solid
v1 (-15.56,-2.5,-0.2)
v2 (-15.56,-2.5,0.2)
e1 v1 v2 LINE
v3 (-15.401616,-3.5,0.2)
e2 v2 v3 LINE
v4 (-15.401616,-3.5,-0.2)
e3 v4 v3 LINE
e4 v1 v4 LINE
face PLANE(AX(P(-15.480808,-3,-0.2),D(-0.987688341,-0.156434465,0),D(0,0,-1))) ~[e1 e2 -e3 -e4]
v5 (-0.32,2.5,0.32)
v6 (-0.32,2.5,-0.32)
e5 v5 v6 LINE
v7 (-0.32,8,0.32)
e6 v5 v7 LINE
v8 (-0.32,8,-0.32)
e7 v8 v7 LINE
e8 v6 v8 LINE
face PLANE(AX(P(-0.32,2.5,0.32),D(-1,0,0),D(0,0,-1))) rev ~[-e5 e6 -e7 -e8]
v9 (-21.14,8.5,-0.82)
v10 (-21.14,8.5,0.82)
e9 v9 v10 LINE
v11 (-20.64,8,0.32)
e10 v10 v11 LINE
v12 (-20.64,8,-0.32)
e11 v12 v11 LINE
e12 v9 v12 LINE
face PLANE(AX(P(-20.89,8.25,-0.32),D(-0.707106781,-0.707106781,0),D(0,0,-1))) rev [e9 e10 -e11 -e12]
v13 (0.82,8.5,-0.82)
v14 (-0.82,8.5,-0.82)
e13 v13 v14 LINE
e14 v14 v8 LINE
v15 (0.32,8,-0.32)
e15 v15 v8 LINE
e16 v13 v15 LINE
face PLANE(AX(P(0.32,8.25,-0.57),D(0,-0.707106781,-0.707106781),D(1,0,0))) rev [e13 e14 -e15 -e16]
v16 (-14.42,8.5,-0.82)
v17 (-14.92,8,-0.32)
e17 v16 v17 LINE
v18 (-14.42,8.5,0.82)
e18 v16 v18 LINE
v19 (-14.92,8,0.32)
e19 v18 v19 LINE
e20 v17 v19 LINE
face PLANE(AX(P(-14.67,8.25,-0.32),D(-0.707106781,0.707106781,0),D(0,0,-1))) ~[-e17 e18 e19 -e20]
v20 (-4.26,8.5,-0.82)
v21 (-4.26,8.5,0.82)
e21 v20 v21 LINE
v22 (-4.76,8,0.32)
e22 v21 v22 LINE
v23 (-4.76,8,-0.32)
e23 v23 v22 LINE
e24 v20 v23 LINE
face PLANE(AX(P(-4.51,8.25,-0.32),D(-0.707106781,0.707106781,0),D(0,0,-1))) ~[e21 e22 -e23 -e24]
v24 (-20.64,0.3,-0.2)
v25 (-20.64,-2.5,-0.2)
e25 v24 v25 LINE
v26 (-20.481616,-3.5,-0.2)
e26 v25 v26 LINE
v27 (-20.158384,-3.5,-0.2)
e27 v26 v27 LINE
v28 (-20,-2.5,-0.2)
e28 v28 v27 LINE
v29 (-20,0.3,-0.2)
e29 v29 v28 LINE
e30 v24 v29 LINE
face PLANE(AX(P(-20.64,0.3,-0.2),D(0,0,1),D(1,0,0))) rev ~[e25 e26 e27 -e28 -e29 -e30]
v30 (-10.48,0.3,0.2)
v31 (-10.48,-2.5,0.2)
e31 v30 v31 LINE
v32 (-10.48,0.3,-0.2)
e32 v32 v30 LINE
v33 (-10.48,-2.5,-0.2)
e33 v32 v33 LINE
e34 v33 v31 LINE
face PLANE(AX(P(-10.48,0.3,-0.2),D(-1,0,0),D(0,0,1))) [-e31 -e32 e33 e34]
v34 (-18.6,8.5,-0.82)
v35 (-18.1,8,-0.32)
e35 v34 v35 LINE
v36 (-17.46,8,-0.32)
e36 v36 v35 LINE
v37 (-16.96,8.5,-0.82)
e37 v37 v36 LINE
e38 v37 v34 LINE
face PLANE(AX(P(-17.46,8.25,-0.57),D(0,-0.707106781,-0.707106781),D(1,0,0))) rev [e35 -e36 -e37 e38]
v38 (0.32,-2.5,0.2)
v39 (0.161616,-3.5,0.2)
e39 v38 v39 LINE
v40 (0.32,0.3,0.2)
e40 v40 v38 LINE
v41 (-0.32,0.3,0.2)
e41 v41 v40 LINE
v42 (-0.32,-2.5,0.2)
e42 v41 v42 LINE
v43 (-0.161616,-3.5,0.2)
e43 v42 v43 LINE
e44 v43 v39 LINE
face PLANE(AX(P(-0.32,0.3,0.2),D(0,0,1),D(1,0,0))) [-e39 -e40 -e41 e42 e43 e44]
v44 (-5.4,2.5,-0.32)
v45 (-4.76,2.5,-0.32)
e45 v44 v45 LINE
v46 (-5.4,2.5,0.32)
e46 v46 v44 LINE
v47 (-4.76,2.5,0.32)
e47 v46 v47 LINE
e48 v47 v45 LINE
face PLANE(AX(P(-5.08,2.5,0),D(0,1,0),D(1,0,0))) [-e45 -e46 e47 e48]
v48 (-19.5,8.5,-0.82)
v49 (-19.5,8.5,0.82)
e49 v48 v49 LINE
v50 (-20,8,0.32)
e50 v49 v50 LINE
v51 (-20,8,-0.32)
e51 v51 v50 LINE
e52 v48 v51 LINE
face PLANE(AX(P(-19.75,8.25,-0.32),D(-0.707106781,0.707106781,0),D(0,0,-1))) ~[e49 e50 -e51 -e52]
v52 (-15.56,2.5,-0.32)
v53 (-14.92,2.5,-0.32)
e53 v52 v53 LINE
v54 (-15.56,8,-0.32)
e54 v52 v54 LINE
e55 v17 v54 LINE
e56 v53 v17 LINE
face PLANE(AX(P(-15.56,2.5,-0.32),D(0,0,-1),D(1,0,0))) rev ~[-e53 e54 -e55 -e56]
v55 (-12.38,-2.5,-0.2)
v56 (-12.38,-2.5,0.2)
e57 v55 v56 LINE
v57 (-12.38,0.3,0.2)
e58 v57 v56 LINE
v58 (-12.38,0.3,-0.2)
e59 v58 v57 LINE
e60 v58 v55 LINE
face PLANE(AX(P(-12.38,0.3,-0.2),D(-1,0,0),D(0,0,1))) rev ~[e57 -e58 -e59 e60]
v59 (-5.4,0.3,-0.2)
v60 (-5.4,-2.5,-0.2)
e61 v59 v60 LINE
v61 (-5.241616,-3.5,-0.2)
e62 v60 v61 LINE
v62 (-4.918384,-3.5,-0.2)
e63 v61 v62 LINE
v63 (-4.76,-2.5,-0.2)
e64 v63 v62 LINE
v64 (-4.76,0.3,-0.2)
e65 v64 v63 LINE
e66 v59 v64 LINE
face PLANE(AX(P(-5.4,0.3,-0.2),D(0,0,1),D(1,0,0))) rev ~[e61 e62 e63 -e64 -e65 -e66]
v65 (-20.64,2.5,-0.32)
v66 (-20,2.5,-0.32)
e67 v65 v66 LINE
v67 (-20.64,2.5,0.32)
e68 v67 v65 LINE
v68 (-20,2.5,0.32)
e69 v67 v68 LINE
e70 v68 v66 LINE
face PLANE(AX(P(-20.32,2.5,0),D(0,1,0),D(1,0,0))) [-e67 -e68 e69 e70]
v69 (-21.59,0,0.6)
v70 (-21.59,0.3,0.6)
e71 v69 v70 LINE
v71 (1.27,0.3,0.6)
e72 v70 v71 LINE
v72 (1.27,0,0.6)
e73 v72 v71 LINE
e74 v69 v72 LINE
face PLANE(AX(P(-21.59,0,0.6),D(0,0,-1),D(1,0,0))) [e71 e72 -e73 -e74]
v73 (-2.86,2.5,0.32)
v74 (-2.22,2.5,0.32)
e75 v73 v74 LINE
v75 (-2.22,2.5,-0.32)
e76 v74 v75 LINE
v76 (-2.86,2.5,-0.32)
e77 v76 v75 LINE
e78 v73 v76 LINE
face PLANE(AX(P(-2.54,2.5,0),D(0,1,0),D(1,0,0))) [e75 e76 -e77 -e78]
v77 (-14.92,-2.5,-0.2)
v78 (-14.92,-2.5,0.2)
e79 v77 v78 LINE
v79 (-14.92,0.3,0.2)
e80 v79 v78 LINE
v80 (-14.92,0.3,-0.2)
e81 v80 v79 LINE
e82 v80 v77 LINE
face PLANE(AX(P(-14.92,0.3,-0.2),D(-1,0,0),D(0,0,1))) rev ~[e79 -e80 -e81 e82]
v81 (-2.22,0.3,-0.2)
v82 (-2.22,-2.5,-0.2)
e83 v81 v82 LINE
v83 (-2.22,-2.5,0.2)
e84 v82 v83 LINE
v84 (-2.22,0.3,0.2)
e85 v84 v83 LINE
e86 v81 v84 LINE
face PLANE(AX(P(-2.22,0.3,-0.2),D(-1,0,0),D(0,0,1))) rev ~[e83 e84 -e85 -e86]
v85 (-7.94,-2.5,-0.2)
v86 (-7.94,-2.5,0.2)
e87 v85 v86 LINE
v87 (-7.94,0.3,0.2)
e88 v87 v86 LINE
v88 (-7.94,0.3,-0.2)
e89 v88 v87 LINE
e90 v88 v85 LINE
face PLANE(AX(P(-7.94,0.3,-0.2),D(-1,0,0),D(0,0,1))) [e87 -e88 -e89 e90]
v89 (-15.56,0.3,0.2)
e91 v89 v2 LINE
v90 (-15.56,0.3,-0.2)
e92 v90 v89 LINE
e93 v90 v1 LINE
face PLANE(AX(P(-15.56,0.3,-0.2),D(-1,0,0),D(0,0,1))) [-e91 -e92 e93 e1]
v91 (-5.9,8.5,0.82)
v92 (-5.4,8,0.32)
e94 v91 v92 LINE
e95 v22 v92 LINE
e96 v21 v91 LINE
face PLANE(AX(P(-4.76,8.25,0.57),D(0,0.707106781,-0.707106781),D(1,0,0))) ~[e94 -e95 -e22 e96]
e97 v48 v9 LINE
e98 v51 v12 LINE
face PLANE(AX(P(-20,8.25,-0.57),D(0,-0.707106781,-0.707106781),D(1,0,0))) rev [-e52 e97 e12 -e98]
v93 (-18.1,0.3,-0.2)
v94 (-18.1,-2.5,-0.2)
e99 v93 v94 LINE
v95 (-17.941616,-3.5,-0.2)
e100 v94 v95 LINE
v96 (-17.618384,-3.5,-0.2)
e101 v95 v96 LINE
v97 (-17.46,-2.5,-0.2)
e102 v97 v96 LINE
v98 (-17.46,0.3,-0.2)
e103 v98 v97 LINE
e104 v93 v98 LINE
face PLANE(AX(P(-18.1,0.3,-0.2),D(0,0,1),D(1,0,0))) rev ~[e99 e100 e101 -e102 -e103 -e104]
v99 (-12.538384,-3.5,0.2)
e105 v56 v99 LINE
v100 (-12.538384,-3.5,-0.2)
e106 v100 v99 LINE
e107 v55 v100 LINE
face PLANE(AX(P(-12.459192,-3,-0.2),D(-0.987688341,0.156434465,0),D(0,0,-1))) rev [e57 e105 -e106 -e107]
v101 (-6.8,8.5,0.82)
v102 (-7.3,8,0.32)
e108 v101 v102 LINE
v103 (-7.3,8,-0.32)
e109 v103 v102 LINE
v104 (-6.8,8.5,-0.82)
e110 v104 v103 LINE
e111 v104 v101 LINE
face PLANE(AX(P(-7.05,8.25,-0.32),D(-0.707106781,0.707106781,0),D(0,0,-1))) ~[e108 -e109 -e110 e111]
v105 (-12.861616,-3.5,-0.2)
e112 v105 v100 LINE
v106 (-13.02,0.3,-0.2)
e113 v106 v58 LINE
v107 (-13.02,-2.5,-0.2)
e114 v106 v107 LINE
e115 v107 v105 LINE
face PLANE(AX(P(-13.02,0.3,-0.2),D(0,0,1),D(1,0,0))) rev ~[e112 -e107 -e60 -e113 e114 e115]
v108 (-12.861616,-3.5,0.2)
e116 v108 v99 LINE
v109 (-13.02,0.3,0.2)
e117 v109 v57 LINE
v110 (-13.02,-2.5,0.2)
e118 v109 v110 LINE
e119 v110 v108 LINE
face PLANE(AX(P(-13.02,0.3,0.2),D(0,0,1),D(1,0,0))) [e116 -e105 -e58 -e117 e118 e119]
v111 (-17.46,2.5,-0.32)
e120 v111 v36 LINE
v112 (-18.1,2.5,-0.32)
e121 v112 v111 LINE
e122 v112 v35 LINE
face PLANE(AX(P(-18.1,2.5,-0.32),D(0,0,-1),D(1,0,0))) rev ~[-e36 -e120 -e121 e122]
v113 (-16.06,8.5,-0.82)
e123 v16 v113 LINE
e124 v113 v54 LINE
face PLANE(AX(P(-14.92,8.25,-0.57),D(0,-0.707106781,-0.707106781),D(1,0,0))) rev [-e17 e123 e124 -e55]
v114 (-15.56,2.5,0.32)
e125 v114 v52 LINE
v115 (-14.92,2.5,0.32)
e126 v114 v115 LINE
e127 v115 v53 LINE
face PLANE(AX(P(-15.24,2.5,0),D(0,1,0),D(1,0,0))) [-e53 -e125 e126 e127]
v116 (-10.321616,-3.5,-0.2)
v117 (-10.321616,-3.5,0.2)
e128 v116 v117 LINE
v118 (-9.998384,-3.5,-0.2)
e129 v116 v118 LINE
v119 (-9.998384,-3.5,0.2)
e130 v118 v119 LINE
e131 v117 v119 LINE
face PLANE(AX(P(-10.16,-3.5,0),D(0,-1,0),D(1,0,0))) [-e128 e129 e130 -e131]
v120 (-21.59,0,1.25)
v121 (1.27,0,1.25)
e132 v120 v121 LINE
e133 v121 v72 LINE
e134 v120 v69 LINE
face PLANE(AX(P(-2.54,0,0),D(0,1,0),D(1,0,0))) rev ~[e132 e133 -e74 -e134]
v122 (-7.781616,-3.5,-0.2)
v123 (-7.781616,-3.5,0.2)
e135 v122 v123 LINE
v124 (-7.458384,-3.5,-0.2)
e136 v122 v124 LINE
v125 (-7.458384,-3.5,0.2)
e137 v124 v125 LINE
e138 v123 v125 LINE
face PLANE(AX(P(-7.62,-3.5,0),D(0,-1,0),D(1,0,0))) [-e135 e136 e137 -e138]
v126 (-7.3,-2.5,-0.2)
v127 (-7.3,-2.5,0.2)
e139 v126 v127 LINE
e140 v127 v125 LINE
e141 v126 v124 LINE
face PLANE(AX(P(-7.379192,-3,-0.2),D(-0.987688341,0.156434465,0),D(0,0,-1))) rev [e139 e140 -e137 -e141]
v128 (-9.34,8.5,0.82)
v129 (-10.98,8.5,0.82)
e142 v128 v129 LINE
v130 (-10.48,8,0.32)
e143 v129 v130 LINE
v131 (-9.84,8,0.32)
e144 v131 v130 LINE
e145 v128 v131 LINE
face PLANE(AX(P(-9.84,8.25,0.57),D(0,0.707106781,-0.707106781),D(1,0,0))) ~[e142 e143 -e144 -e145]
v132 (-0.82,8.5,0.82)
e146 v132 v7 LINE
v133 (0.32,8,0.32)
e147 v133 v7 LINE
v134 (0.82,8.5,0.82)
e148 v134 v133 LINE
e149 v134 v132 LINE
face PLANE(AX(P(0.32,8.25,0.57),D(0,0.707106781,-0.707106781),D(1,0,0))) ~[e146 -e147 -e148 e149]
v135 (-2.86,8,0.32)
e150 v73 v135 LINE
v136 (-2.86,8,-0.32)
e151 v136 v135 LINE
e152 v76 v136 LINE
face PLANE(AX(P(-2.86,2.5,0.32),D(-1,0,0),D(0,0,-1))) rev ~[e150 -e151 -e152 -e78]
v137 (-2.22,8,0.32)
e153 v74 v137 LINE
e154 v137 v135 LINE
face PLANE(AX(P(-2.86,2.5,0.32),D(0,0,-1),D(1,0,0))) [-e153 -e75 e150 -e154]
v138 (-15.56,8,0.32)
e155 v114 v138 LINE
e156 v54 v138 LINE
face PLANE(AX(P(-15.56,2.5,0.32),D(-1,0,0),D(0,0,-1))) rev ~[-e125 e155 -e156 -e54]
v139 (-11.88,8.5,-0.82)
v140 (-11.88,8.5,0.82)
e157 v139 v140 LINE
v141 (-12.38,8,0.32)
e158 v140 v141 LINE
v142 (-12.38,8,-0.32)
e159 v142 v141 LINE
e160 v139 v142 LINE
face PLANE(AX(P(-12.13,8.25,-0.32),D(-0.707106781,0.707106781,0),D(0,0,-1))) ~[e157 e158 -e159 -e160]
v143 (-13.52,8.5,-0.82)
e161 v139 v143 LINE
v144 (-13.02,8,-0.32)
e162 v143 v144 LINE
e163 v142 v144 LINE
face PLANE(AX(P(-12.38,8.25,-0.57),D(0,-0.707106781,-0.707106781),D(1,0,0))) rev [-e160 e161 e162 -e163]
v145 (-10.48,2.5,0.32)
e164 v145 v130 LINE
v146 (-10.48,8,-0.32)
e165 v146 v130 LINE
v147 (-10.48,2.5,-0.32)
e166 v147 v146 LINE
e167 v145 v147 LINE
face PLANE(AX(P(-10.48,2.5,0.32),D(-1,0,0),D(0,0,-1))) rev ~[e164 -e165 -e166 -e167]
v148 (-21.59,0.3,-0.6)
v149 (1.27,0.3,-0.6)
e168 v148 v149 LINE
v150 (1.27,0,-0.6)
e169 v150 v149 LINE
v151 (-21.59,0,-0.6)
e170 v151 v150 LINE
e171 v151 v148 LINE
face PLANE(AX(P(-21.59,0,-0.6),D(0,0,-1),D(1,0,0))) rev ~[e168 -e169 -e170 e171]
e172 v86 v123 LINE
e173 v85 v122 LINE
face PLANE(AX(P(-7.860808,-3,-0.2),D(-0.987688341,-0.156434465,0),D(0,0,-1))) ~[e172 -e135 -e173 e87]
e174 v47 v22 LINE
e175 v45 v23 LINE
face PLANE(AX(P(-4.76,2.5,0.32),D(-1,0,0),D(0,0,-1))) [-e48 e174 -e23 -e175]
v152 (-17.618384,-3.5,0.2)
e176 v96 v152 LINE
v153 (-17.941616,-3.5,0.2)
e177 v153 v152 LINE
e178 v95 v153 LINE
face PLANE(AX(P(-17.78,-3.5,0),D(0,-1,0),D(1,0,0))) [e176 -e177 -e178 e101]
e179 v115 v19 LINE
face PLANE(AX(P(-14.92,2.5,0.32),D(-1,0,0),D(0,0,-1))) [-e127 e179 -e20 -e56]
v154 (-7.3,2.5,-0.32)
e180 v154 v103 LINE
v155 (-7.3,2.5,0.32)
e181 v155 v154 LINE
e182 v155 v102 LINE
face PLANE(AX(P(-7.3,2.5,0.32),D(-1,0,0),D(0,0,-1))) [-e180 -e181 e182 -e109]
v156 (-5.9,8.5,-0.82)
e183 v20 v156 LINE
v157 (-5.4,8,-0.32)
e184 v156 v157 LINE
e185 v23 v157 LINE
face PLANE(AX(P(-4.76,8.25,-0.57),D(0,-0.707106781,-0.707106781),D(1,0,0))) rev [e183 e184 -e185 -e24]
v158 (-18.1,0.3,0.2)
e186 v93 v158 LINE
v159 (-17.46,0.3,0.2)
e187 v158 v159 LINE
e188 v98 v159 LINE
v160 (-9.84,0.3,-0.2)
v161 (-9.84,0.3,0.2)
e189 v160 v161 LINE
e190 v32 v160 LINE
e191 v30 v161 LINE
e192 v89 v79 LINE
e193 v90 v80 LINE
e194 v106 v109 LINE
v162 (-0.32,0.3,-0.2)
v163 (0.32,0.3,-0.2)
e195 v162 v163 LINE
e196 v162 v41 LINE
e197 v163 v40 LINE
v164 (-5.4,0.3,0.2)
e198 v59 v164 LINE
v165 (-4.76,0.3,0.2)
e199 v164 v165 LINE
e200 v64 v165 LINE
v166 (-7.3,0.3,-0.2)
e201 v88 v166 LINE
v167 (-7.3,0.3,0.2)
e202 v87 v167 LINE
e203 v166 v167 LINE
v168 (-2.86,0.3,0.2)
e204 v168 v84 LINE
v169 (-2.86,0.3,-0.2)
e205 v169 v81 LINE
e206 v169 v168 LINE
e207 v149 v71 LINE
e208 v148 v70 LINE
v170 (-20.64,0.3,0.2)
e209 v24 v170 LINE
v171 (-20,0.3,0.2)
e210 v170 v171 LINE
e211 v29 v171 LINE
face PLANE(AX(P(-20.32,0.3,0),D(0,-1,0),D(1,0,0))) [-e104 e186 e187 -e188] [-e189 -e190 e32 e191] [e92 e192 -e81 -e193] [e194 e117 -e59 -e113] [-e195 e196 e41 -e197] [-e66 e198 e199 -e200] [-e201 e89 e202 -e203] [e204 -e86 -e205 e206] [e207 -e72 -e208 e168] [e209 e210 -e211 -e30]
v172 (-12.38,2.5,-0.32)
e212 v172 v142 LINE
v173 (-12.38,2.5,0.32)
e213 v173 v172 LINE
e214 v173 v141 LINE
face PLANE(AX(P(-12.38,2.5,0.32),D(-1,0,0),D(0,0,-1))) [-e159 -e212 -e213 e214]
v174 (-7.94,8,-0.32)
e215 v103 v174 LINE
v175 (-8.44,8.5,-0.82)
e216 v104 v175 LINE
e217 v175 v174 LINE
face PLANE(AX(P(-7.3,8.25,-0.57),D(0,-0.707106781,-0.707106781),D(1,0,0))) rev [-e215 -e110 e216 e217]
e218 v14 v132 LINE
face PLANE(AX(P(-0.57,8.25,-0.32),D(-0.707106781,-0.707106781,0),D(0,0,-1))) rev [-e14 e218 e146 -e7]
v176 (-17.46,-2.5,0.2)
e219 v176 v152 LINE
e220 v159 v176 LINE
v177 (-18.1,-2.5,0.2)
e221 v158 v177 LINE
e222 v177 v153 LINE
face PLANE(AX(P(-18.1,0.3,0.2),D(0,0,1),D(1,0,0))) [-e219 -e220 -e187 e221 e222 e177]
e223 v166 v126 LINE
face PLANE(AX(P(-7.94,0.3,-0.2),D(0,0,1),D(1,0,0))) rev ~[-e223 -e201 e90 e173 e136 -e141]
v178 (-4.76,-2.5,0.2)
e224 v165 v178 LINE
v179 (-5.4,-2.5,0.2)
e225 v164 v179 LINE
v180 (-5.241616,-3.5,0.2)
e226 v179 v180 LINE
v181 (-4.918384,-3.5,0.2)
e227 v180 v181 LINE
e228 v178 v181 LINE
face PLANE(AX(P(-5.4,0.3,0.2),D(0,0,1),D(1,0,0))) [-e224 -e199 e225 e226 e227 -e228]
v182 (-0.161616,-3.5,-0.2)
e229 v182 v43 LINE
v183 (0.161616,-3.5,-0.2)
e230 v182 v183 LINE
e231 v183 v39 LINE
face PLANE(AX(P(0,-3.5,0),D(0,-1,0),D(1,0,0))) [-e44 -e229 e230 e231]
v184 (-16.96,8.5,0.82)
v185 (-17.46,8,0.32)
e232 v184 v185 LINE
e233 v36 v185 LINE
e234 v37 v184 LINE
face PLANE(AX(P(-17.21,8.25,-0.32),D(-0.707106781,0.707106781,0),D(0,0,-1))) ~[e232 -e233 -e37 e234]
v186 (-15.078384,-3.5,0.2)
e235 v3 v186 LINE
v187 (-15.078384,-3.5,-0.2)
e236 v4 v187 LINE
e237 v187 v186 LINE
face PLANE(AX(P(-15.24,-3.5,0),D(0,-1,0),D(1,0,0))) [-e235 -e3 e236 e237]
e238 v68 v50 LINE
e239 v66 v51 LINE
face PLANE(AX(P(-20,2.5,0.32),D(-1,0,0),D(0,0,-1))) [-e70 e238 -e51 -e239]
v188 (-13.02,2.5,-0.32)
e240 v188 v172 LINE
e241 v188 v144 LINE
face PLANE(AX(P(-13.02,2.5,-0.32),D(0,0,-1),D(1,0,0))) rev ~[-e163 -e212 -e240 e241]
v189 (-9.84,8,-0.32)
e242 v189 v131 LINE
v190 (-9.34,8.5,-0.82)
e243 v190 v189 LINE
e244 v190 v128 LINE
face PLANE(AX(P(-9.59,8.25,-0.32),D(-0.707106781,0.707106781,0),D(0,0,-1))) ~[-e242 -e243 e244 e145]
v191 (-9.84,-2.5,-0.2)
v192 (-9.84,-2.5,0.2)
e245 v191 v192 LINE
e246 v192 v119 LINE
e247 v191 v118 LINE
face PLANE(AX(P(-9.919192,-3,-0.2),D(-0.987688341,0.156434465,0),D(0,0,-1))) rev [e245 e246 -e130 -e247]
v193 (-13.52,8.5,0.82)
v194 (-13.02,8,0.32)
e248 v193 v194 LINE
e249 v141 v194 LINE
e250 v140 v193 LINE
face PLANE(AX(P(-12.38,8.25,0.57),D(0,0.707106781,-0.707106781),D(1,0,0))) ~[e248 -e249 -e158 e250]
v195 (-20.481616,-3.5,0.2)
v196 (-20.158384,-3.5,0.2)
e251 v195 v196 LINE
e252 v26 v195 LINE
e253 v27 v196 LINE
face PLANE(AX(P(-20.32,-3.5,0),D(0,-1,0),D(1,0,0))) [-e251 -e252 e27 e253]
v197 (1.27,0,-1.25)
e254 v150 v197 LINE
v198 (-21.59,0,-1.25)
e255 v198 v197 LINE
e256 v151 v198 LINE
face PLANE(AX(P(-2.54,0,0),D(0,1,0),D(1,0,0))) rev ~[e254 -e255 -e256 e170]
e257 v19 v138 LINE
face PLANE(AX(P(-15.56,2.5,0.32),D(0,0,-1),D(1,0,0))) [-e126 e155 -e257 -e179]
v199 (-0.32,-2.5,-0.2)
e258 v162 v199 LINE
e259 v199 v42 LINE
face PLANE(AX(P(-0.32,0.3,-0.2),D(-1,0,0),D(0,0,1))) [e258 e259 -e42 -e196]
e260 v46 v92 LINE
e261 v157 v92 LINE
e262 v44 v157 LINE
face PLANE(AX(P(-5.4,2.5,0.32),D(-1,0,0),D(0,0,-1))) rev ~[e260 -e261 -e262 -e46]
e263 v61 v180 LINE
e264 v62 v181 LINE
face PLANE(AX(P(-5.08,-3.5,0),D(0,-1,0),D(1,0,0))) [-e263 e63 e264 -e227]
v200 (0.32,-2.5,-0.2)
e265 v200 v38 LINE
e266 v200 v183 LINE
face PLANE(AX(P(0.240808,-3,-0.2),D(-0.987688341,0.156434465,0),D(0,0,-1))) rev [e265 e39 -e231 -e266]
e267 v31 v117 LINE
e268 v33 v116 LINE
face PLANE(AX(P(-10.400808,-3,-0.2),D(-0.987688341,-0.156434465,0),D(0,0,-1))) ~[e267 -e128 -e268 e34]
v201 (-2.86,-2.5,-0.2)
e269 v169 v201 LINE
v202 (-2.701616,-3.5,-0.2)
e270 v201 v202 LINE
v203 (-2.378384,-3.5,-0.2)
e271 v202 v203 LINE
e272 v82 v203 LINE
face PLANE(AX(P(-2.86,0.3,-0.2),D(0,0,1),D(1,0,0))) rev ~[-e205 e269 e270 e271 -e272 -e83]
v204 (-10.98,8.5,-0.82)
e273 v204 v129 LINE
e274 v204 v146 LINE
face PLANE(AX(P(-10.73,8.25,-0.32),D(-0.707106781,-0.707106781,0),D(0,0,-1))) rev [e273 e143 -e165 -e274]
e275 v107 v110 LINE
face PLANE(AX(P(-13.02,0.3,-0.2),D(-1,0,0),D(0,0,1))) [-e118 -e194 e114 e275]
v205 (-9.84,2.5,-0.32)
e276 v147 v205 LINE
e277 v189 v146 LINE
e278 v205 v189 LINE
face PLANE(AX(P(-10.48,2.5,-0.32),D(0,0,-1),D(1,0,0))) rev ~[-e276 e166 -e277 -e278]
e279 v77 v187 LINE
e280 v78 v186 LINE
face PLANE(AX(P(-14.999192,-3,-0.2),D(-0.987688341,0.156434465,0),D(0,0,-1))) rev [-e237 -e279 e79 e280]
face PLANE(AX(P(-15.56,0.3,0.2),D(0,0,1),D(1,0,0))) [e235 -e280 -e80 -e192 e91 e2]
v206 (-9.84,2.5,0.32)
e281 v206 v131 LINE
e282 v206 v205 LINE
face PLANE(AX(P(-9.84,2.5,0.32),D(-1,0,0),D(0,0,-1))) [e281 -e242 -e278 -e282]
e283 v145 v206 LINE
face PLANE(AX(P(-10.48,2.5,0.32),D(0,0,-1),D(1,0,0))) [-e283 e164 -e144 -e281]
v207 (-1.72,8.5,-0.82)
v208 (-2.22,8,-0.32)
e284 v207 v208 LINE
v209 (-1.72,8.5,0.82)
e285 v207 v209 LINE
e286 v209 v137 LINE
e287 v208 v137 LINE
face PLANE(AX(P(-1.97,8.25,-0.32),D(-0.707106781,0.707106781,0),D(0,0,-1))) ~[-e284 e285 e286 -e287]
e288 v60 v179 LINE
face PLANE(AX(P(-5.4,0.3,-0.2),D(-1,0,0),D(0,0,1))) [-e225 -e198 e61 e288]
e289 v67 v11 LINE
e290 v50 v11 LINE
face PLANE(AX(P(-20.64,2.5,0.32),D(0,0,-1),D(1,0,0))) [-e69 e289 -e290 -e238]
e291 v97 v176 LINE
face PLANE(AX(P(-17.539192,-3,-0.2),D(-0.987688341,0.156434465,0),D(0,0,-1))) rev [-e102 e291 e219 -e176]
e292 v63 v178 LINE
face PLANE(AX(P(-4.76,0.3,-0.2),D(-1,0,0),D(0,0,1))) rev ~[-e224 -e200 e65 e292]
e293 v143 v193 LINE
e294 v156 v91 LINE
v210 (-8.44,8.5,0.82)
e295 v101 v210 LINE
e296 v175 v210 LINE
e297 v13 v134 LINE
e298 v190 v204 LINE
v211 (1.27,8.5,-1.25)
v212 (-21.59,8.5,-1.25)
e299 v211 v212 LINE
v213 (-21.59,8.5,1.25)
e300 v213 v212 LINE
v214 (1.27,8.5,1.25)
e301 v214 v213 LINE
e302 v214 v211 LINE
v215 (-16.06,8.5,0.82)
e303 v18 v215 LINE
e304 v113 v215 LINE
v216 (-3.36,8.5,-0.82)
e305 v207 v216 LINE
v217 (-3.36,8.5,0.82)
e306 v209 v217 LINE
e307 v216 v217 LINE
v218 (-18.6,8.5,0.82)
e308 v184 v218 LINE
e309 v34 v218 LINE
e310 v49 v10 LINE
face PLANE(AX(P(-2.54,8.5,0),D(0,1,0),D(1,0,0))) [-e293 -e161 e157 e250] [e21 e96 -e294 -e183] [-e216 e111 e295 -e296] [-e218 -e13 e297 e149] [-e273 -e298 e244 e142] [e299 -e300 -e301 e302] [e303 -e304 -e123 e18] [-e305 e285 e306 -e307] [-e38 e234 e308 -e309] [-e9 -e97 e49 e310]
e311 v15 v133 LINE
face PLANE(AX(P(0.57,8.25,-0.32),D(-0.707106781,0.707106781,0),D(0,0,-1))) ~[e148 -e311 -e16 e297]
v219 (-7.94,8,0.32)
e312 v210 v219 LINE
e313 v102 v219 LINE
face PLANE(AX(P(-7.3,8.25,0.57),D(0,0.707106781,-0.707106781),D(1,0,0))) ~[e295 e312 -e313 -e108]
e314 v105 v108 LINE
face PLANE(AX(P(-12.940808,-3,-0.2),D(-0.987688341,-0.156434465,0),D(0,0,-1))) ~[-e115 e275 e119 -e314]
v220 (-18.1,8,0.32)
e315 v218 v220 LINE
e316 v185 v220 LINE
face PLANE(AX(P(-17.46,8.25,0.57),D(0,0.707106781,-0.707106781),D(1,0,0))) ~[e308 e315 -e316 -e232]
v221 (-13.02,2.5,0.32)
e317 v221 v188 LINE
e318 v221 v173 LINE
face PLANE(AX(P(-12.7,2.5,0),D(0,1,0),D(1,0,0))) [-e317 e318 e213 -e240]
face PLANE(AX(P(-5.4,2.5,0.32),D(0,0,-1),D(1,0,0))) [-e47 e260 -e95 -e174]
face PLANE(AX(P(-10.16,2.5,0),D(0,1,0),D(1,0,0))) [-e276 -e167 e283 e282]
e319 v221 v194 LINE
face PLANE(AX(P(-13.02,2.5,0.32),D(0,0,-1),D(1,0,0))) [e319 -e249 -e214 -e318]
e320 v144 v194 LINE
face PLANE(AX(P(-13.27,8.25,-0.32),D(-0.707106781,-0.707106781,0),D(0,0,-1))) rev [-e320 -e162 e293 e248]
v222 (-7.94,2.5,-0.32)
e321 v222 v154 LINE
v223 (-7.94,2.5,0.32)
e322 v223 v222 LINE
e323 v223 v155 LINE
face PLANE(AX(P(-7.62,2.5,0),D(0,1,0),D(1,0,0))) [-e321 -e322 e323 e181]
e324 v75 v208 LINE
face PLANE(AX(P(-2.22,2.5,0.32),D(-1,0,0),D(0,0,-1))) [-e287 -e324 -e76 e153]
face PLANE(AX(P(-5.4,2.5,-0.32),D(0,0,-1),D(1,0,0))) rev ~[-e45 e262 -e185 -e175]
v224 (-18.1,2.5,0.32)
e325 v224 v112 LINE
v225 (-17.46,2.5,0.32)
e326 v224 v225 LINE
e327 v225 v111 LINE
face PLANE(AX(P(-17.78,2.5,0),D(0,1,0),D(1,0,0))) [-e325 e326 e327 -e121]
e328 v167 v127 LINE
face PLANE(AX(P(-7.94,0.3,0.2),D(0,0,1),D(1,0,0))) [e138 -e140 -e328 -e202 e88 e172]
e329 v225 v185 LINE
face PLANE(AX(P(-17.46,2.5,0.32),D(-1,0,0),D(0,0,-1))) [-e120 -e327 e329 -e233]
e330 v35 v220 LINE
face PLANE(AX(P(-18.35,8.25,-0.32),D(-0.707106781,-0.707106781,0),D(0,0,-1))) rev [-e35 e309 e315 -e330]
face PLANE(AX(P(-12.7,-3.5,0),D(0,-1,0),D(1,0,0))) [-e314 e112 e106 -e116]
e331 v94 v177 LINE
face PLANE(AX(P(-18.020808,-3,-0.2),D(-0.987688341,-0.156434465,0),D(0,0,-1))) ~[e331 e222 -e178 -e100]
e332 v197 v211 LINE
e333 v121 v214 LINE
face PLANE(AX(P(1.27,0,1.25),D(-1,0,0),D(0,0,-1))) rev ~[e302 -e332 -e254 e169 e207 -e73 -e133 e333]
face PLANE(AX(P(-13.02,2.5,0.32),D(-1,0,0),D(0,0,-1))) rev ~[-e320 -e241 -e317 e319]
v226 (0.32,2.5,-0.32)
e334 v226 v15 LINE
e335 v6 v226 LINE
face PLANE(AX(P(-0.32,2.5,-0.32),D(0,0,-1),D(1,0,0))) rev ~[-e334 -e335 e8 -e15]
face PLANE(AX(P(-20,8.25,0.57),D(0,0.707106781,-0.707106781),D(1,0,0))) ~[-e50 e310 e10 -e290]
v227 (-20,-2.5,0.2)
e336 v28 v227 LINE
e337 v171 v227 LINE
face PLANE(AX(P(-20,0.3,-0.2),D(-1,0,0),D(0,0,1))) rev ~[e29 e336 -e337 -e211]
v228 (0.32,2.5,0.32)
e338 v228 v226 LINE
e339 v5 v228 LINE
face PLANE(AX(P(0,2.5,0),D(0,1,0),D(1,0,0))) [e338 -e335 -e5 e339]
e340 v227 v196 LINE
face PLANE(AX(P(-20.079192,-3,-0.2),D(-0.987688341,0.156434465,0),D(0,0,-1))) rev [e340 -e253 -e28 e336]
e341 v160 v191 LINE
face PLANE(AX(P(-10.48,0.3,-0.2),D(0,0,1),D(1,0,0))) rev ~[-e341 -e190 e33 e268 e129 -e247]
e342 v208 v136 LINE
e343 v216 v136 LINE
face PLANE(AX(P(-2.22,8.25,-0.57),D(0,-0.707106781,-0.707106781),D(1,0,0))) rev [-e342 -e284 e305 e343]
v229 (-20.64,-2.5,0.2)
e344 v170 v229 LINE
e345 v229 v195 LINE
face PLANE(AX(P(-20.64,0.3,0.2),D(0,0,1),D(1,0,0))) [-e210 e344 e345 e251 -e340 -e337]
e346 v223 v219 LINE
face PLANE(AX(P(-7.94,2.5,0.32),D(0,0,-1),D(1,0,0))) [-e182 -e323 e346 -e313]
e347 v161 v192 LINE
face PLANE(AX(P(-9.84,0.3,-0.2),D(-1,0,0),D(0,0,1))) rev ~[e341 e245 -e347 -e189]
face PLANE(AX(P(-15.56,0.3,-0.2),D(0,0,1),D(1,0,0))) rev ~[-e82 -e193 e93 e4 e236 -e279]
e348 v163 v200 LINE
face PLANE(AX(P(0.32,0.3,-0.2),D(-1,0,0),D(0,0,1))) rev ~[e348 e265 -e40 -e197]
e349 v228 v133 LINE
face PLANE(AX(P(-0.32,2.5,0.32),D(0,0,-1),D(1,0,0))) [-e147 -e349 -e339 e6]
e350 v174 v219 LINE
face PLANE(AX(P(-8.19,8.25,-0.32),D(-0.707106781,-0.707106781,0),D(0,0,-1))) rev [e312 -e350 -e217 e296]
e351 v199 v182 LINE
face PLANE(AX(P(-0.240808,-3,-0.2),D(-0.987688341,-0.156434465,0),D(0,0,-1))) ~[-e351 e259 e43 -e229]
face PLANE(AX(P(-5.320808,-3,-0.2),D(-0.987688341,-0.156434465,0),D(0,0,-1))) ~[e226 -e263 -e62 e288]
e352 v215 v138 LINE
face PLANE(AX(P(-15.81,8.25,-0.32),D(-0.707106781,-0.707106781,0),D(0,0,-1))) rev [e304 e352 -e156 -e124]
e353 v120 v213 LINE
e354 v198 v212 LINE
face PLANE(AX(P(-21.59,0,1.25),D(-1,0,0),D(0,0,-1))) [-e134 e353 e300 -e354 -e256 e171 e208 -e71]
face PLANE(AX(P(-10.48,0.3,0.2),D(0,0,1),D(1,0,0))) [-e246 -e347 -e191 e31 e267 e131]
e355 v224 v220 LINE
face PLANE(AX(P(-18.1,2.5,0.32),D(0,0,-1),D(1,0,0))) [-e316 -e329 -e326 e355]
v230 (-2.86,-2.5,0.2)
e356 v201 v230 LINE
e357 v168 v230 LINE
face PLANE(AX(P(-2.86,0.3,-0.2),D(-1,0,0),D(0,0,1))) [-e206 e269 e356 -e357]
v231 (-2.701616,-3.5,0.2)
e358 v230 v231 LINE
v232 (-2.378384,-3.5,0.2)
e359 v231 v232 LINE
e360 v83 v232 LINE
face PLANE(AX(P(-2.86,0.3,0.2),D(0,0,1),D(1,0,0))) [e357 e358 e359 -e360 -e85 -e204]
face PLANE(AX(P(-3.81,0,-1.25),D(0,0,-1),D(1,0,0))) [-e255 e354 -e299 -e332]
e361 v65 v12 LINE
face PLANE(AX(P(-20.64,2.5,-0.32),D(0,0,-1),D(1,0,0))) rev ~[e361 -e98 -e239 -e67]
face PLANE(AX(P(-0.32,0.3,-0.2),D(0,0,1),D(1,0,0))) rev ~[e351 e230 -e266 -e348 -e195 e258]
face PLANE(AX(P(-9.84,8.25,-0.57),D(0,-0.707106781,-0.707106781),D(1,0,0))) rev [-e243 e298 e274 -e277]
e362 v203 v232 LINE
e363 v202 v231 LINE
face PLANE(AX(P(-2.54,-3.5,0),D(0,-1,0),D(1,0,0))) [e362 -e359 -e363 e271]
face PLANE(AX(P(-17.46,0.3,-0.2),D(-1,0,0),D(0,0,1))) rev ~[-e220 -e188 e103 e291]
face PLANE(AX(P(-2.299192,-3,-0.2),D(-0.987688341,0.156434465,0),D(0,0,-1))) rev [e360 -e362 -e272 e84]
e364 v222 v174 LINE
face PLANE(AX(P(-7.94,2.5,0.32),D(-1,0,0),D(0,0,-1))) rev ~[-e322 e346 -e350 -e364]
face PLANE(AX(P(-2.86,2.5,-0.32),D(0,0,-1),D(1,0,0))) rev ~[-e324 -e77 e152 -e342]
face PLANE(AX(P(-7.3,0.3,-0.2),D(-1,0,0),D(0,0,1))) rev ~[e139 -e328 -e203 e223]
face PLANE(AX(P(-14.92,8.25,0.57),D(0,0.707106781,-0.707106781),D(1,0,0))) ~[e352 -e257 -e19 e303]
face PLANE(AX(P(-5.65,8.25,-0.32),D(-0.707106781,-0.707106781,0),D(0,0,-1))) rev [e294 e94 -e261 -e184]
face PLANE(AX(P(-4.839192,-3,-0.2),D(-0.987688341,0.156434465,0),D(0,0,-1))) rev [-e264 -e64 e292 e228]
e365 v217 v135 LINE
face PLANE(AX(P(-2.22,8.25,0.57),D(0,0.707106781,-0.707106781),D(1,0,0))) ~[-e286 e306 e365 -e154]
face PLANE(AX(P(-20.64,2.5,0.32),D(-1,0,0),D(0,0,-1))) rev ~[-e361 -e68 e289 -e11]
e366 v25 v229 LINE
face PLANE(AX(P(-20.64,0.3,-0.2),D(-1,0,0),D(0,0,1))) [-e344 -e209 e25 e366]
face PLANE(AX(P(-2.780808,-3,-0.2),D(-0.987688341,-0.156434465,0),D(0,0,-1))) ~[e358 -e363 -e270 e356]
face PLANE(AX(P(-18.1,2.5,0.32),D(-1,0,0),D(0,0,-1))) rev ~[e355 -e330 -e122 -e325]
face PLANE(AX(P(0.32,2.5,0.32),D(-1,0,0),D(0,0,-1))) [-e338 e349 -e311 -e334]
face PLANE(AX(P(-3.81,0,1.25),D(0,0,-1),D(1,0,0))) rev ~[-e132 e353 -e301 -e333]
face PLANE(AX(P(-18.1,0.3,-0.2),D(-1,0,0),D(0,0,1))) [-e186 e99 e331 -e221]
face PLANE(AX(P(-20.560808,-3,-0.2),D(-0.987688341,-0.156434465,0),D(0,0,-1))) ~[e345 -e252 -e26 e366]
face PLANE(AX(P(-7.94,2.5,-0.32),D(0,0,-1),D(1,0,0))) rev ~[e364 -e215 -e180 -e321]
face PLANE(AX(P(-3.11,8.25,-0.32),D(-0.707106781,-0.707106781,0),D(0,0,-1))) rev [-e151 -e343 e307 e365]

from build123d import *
from OCP.BRepFilletAPI import BRepFilletAPI_MakeChamfer

# Parameters (mm, degrees)
SKETCH1_W                   = 2.54
SKETCH1_H                   = 2.5
BOSS_EXTRUDE1_DEPTH         = 8.5
SKETCH2_W                   = 2.54
SKETCH2_H                   = 1.2
CUT_EXTRUDE1_DEPTH          = 0.3
CUT_EXTRUDE2_START          = -6
SKETCH3_W                   = 0.64
SKETCH3_H                   = 0.64
CUT_EXTRUDE2_DEPTH          = 15.68477979
CHAMFER1_SIZE               = 0.5
SKETCH4_W                   = 0.64
SKETCH4_H                   = 0.4
BOSS_EXTRUDE2_DEPTH         = 3.8
CHAMFER2_SIZE               = 1
CHAMFER2_SIZE2              = 0.15838444
LPATTERN1_COUNT             = 9
LPATTERN1_PITCH             = 2.54
CHAMFER1_OF_LPATTERN1_SIZE  = 0.5
CHAMFER2_OF_LPATTERN1_SIZE  = 1
CHAMFER2_OF_LPATTERN1_SIZE2 = 0.15838444


with BuildPart() as part:
    # Sketch1 → Boss-Extrude1 (new body)
    with BuildSketch(Plane(origin=(0, 0, 0), x_dir=(1, 0, 0), z_dir=(0, 1, 0))):
        Rectangle(SKETCH1_W, SKETCH1_H)
    boss_extrude1 = extrude(amount=BOSS_EXTRUDE1_DEPTH)

    # Sketch2 → Cut-Extrude1 (cut)
    with BuildSketch(Plane.XZ):
        Rectangle(SKETCH2_W, SKETCH2_H)
    cut_extrude1 = extrude(amount=-CUT_EXTRUDE1_DEPTH, mode=Mode.SUBTRACT)

    # Sketch3 → Cut-Extrude2 (cut)
    with BuildSketch(Plane(origin=(0, 8.5, 0), x_dir=(1, 0, 0), z_dir=(0, 1, 0)).offset(CUT_EXTRUDE2_START)):
        Rectangle(SKETCH3_W, SKETCH3_H)
    cut_extrude2 = extrude(amount=CUT_EXTRUDE2_DEPTH, mode=Mode.SUBTRACT)

    # Chamfer1
    chamfer1_edges = [part.edges().sort_by_distance(p)[0] for p in [
        (0, 8.5, 0.32),
        (-0.32, 8.5, 0),
        (0, 8.5, -0.32),
        (0.32, 8.5, 0),
    ]]
    chamfer(chamfer1_edges, length=CHAMFER1_SIZE)

    # Sketch4 → Boss-Extrude2 (add)
    with BuildSketch(Plane.XZ.offset(-0.3)):
        Rectangle(SKETCH4_W, SKETCH4_H)
    boss_extrude2 = extrude(amount=BOSS_EXTRUDE2_DEPTH)

    # Chamfer2: one chamfer whose edges measure the first distance from different faces: ONE call of the kernel's chamfer builder (chamfer() names one face for all edges)
    chamfer2_edges_1 = [part.edges().sort_by_distance(p)[0] for p in [
        (0.32, -3.5, 0),
    ]]
    chamfer2_side_1 = [part.faces().sort_by_distance(p)[0] for p in [
        (0.32, -1.6, 0),
    ]]
    chamfer2_edges_2 = [part.edges().sort_by_distance(p)[0] for p in [
        (-0.32, -3.5, 0),
    ]]
    chamfer2_side_2 = [part.faces().sort_by_distance(p)[0] for p in [
        (-0.32, -1.6, 0),
    ]]
    chamfer2 = BRepFilletAPI_MakeChamfer(part.part.solid().wrapped)
    for e in chamfer2_edges_1:
        chamfer2.Add(CHAMFER2_SIZE, CHAMFER2_SIZE2, e.wrapped, chamfer2_side_1[0].wrapped)  # the first distance lies on this face
    for e in chamfer2_edges_2:
        chamfer2.Add(CHAMFER2_SIZE, CHAMFER2_SIZE2, e.wrapped, chamfer2_side_2[0].wrapped)  # the first distance lies on this face
    add(Compound.cast(chamfer2.Shape()), mode=Mode.REPLACE)

    # LPattern1: Boss-Extrude1, Cut-Extrude1, Cut-Extrude2, Boss-Extrude2 ×9
    with Locations(*[(-i * LPATTERN1_PITCH, 0, 0) for i in range(1, LPATTERN1_COUNT)]):
        add(boss_extrude1)
        add(cut_extrude1, mode=Mode.SUBTRACT)
        add(cut_extrude2, mode=Mode.SUBTRACT)
        add(boss_extrude2)

    # Chamfer1 of LPattern1
    chamfer1_of_lpattern1_edges = [part.edges().sort_by_distance(p)[0] for p in [
        (-2.54, 8.5, 0.32),
        (-2.86, 8.5, 0),
        (-2.54, 8.5, -0.32),
        (-2.22, 8.5, 0),
        (-5.08, 8.5, 0.32),
        (-5.4, 8.5, 0),
        (-5.08, 8.5, -0.32),
        (-4.76, 8.5, 0),
        (-7.62, 8.5, 0.32),
        (-7.94, 8.5, 0),
        (-7.62, 8.5, -0.32),
        (-7.3, 8.5, 0),
        (-10.16, 8.5, 0.32),
        (-10.48, 8.5, 0),
        (-10.16, 8.5, -0.32),
        (-9.84, 8.5, 0),
        (-12.7, 8.5, 0.32),
        (-13.02, 8.5, 0),
        (-12.7, 8.5, -0.32),
        (-12.38, 8.5, 0),
        (-15.24, 8.5, 0.32),
        (-15.56, 8.5, 0),
        (-15.24, 8.5, -0.32),
        (-14.92, 8.5, 0),
        (-17.78, 8.5, 0.32),
        (-18.1, 8.5, 0),
        (-17.78, 8.5, -0.32),
        (-17.46, 8.5, 0),
        (-20.32, 8.5, 0.32),
        (-20.64, 8.5, 0),
        (-20.32, 8.5, -0.32),
        (-20, 8.5, 0),
    ]]
    chamfer(chamfer1_of_lpattern1_edges, length=CHAMFER1_OF_LPATTERN1_SIZE)

    # Chamfer2 of LPattern1: one chamfer whose edges measure the first distance from different faces: ONE call of the kernel's chamfer builder (chamfer() names one face for all edges)
    chamfer2_of_lpattern1_edges_1 = [part.edges().sort_by_distance(p)[0] for p in [
        (-2.22, -3.5, 0),
    ]]
    chamfer2_of_lpattern1_side_1 = [part.faces().sort_by_distance(p)[0] for p in [
        (-2.22, -1.6, 0),
    ]]
    chamfer2_of_lpattern1_edges_2 = [part.edges().sort_by_distance(p)[0] for p in [
        (-2.86, -3.5, 0),
    ]]
    chamfer2_of_lpattern1_side_2 = [part.faces().sort_by_distance(p)[0] for p in [
        (-2.86, -1.6, 0),
    ]]
    chamfer2_of_lpattern1_edges_3 = [part.edges().sort_by_distance(p)[0] for p in [
        (-4.76, -3.5, 0),
    ]]
    chamfer2_of_lpattern1_side_3 = [part.faces().sort_by_distance(p)[0] for p in [
        (-4.76, -1.6, 0),
    ]]
    chamfer2_of_lpattern1_edges_4 = [part.edges().sort_by_distance(p)[0] for p in [
        (-5.4, -3.5, 0),
    ]]
    chamfer2_of_lpattern1_side_4 = [part.faces().sort_by_distance(p)[0] for p in [
        (-5.4, -1.6, 0),
    ]]
    chamfer2_of_lpattern1_edges_5 = [part.edges().sort_by_distance(p)[0] for p in [
        (-7.3, -3.5, 0),
    ]]
    chamfer2_of_lpattern1_side_5 = [part.faces().sort_by_distance(p)[0] for p in [
        (-7.3, -1.6, 0),
    ]]
    chamfer2_of_lpattern1_edges_6 = [part.edges().sort_by_distance(p)[0] for p in [
        (-7.94, -3.5, 0),
    ]]
    chamfer2_of_lpattern1_side_6 = [part.faces().sort_by_distance(p)[0] for p in [
        (-7.94, -1.6, 0),
    ]]
    chamfer2_of_lpattern1_edges_7 = [part.edges().sort_by_distance(p)[0] for p in [
        (-9.84, -3.5, 0),
    ]]
    chamfer2_of_lpattern1_side_7 = [part.faces().sort_by_distance(p)[0] for p in [
        (-9.84, -1.6, 0),
    ]]
    chamfer2_of_lpattern1_edges_8 = [part.edges().sort_by_distance(p)[0] for p in [
        (-10.48, -3.5, 0),
    ]]
    chamfer2_of_lpattern1_side_8 = [part.faces().sort_by_distance(p)[0] for p in [
        (-10.48, -1.6, 0),
    ]]
    chamfer2_of_lpattern1_edges_9 = [part.edges().sort_by_distance(p)[0] for p in [
        (-12.38, -3.5, 0),
    ]]
    chamfer2_of_lpattern1_side_9 = [part.faces().sort_by_distance(p)[0] for p in [
        (-12.38, -1.6, 0),
    ]]
    chamfer2_of_lpattern1_edges_10 = [part.edges().sort_by_distance(p)[0] for p in [
        (-13.02, -3.5, 0),
    ]]
    chamfer2_of_lpattern1_side_10 = [part.faces().sort_by_distance(p)[0] for p in [
        (-13.02, -1.6, 0),
    ]]
    chamfer2_of_lpattern1_edges_11 = [part.edges().sort_by_distance(p)[0] for p in [
        (-14.92, -3.5, 0),
    ]]
    chamfer2_of_lpattern1_side_11 = [part.faces().sort_by_distance(p)[0] for p in [
        (-14.92, -1.6, 0),
    ]]
    chamfer2_of_lpattern1_edges_12 = [part.edges().sort_by_distance(p)[0] for p in [
        (-15.56, -3.5, 0),
    ]]
    chamfer2_of_lpattern1_side_12 = [part.faces().sort_by_distance(p)[0] for p in [
        (-15.56, -1.6, 0),
    ]]
    chamfer2_of_lpattern1_edges_13 = [part.edges().sort_by_distance(p)[0] for p in [
        (-17.46, -3.5, 0),
    ]]
    chamfer2_of_lpattern1_side_13 = [part.faces().sort_by_distance(p)[0] for p in [
        (-17.46, -1.6, 0),
    ]]
    chamfer2_of_lpattern1_edges_14 = [part.edges().sort_by_distance(p)[0] for p in [
        (-18.1, -3.5, 0),
    ]]
    chamfer2_of_lpattern1_side_14 = [part.faces().sort_by_distance(p)[0] for p in [
        (-18.1, -1.6, 0),
    ]]
    chamfer2_of_lpattern1_edges_15 = [part.edges().sort_by_distance(p)[0] for p in [
        (-20, -3.5, 0),
    ]]
    chamfer2_of_lpattern1_side_15 = [part.faces().sort_by_distance(p)[0] for p in [
        (-20, -1.6, 0),
    ]]
    chamfer2_of_lpattern1_edges_16 = [part.edges().sort_by_distance(p)[0] for p in [
        (-20.64, -3.5, 0),
    ]]
    chamfer2_of_lpattern1_side_16 = [part.faces().sort_by_distance(p)[0] for p in [
        (-20.64, -1.6, 0),
    ]]
    chamfer2_of_lpattern1 = BRepFilletAPI_MakeChamfer(part.part.solid().wrapped)
    for e in chamfer2_of_lpattern1_edges_1:
        chamfer2_of_lpattern1.Add(CHAMFER2_OF_LPATTERN1_SIZE, CHAMFER2_OF_LPATTERN1_SIZE2, e.wrapped, chamfer2_of_lpattern1_side_1[0].wrapped)  # the first distance lies on this face
    for e in chamfer2_of_lpattern1_edges_2:
        chamfer2_of_lpattern1.Add(CHAMFER2_OF_LPATTERN1_SIZE, CHAMFER2_OF_LPATTERN1_SIZE2, e.wrapped, chamfer2_of_lpattern1_side_2[0].wrapped)  # the first distance lies on this face
    for e in chamfer2_of_lpattern1_edges_3:
        chamfer2_of_lpattern1.Add(CHAMFER2_OF_LPATTERN1_SIZE, CHAMFER2_OF_LPATTERN1_SIZE2, e.wrapped, chamfer2_of_lpattern1_side_3[0].wrapped)  # the first distance lies on this face
    for e in chamfer2_of_lpattern1_edges_4:
        chamfer2_of_lpattern1.Add(CHAMFER2_OF_LPATTERN1_SIZE, CHAMFER2_OF_LPATTERN1_SIZE2, e.wrapped, chamfer2_of_lpattern1_side_4[0].wrapped)  # the first distance lies on this face
    for e in chamfer2_of_lpattern1_edges_5:
        chamfer2_of_lpattern1.Add(CHAMFER2_OF_LPATTERN1_SIZE, CHAMFER2_OF_LPATTERN1_SIZE2, e.wrapped, chamfer2_of_lpattern1_side_5[0].wrapped)  # the first distance lies on this face
    for e in chamfer2_of_lpattern1_edges_6:
        chamfer2_of_lpattern1.Add(CHAMFER2_OF_LPATTERN1_SIZE, CHAMFER2_OF_LPATTERN1_SIZE2, e.wrapped, chamfer2_of_lpattern1_side_6[0].wrapped)  # the first distance lies on this face
    for e in chamfer2_of_lpattern1_edges_7:
        chamfer2_of_lpattern1.Add(CHAMFER2_OF_LPATTERN1_SIZE, CHAMFER2_OF_LPATTERN1_SIZE2, e.wrapped, chamfer2_of_lpattern1_side_7[0].wrapped)  # the first distance lies on this face
    for e in chamfer2_of_lpattern1_edges_8:
        chamfer2_of_lpattern1.Add(CHAMFER2_OF_LPATTERN1_SIZE, CHAMFER2_OF_LPATTERN1_SIZE2, e.wrapped, chamfer2_of_lpattern1_side_8[0].wrapped)  # the first distance lies on this face
    for e in chamfer2_of_lpattern1_edges_9:
        chamfer2_of_lpattern1.Add(CHAMFER2_OF_LPATTERN1_SIZE, CHAMFER2_OF_LPATTERN1_SIZE2, e.wrapped, chamfer2_of_lpattern1_side_9[0].wrapped)  # the first distance lies on this face
    for e in chamfer2_of_lpattern1_edges_10:
        chamfer2_of_lpattern1.Add(CHAMFER2_OF_LPATTERN1_SIZE, CHAMFER2_OF_LPATTERN1_SIZE2, e.wrapped, chamfer2_of_lpattern1_side_10[0].wrapped)  # the first distance lies on this face
    for e in chamfer2_of_lpattern1_edges_11:
        chamfer2_of_lpattern1.Add(CHAMFER2_OF_LPATTERN1_SIZE, CHAMFER2_OF_LPATTERN1_SIZE2, e.wrapped, chamfer2_of_lpattern1_side_11[0].wrapped)  # the first distance lies on this face
    for e in chamfer2_of_lpattern1_edges_12:
        chamfer2_of_lpattern1.Add(CHAMFER2_OF_LPATTERN1_SIZE, CHAMFER2_OF_LPATTERN1_SIZE2, e.wrapped, chamfer2_of_lpattern1_side_12[0].wrapped)  # the first distance lies on this face
    for e in chamfer2_of_lpattern1_edges_13:
        chamfer2_of_lpattern1.Add(CHAMFER2_OF_LPATTERN1_SIZE, CHAMFER2_OF_LPATTERN1_SIZE2, e.wrapped, chamfer2_of_lpattern1_side_13[0].wrapped)  # the first distance lies on this face
    for e in chamfer2_of_lpattern1_edges_14:
        chamfer2_of_lpattern1.Add(CHAMFER2_OF_LPATTERN1_SIZE, CHAMFER2_OF_LPATTERN1_SIZE2, e.wrapped, chamfer2_of_lpattern1_side_14[0].wrapped)  # the first distance lies on this face
    for e in chamfer2_of_lpattern1_edges_15:
        chamfer2_of_lpattern1.Add(CHAMFER2_OF_LPATTERN1_SIZE, CHAMFER2_OF_LPATTERN1_SIZE2, e.wrapped, chamfer2_of_lpattern1_side_15[0].wrapped)  # the first distance lies on this face
    for e in chamfer2_of_lpattern1_edges_16:
        chamfer2_of_lpattern1.Add(CHAMFER2_OF_LPATTERN1_SIZE, CHAMFER2_OF_LPATTERN1_SIZE2, e.wrapped, chamfer2_of_lpattern1_side_16[0].wrapped)  # the first distance lies on this face
    add(Compound.cast(chamfer2_of_lpattern1.Shape()), mode=Mode.REPLACE)


solid = part.part
